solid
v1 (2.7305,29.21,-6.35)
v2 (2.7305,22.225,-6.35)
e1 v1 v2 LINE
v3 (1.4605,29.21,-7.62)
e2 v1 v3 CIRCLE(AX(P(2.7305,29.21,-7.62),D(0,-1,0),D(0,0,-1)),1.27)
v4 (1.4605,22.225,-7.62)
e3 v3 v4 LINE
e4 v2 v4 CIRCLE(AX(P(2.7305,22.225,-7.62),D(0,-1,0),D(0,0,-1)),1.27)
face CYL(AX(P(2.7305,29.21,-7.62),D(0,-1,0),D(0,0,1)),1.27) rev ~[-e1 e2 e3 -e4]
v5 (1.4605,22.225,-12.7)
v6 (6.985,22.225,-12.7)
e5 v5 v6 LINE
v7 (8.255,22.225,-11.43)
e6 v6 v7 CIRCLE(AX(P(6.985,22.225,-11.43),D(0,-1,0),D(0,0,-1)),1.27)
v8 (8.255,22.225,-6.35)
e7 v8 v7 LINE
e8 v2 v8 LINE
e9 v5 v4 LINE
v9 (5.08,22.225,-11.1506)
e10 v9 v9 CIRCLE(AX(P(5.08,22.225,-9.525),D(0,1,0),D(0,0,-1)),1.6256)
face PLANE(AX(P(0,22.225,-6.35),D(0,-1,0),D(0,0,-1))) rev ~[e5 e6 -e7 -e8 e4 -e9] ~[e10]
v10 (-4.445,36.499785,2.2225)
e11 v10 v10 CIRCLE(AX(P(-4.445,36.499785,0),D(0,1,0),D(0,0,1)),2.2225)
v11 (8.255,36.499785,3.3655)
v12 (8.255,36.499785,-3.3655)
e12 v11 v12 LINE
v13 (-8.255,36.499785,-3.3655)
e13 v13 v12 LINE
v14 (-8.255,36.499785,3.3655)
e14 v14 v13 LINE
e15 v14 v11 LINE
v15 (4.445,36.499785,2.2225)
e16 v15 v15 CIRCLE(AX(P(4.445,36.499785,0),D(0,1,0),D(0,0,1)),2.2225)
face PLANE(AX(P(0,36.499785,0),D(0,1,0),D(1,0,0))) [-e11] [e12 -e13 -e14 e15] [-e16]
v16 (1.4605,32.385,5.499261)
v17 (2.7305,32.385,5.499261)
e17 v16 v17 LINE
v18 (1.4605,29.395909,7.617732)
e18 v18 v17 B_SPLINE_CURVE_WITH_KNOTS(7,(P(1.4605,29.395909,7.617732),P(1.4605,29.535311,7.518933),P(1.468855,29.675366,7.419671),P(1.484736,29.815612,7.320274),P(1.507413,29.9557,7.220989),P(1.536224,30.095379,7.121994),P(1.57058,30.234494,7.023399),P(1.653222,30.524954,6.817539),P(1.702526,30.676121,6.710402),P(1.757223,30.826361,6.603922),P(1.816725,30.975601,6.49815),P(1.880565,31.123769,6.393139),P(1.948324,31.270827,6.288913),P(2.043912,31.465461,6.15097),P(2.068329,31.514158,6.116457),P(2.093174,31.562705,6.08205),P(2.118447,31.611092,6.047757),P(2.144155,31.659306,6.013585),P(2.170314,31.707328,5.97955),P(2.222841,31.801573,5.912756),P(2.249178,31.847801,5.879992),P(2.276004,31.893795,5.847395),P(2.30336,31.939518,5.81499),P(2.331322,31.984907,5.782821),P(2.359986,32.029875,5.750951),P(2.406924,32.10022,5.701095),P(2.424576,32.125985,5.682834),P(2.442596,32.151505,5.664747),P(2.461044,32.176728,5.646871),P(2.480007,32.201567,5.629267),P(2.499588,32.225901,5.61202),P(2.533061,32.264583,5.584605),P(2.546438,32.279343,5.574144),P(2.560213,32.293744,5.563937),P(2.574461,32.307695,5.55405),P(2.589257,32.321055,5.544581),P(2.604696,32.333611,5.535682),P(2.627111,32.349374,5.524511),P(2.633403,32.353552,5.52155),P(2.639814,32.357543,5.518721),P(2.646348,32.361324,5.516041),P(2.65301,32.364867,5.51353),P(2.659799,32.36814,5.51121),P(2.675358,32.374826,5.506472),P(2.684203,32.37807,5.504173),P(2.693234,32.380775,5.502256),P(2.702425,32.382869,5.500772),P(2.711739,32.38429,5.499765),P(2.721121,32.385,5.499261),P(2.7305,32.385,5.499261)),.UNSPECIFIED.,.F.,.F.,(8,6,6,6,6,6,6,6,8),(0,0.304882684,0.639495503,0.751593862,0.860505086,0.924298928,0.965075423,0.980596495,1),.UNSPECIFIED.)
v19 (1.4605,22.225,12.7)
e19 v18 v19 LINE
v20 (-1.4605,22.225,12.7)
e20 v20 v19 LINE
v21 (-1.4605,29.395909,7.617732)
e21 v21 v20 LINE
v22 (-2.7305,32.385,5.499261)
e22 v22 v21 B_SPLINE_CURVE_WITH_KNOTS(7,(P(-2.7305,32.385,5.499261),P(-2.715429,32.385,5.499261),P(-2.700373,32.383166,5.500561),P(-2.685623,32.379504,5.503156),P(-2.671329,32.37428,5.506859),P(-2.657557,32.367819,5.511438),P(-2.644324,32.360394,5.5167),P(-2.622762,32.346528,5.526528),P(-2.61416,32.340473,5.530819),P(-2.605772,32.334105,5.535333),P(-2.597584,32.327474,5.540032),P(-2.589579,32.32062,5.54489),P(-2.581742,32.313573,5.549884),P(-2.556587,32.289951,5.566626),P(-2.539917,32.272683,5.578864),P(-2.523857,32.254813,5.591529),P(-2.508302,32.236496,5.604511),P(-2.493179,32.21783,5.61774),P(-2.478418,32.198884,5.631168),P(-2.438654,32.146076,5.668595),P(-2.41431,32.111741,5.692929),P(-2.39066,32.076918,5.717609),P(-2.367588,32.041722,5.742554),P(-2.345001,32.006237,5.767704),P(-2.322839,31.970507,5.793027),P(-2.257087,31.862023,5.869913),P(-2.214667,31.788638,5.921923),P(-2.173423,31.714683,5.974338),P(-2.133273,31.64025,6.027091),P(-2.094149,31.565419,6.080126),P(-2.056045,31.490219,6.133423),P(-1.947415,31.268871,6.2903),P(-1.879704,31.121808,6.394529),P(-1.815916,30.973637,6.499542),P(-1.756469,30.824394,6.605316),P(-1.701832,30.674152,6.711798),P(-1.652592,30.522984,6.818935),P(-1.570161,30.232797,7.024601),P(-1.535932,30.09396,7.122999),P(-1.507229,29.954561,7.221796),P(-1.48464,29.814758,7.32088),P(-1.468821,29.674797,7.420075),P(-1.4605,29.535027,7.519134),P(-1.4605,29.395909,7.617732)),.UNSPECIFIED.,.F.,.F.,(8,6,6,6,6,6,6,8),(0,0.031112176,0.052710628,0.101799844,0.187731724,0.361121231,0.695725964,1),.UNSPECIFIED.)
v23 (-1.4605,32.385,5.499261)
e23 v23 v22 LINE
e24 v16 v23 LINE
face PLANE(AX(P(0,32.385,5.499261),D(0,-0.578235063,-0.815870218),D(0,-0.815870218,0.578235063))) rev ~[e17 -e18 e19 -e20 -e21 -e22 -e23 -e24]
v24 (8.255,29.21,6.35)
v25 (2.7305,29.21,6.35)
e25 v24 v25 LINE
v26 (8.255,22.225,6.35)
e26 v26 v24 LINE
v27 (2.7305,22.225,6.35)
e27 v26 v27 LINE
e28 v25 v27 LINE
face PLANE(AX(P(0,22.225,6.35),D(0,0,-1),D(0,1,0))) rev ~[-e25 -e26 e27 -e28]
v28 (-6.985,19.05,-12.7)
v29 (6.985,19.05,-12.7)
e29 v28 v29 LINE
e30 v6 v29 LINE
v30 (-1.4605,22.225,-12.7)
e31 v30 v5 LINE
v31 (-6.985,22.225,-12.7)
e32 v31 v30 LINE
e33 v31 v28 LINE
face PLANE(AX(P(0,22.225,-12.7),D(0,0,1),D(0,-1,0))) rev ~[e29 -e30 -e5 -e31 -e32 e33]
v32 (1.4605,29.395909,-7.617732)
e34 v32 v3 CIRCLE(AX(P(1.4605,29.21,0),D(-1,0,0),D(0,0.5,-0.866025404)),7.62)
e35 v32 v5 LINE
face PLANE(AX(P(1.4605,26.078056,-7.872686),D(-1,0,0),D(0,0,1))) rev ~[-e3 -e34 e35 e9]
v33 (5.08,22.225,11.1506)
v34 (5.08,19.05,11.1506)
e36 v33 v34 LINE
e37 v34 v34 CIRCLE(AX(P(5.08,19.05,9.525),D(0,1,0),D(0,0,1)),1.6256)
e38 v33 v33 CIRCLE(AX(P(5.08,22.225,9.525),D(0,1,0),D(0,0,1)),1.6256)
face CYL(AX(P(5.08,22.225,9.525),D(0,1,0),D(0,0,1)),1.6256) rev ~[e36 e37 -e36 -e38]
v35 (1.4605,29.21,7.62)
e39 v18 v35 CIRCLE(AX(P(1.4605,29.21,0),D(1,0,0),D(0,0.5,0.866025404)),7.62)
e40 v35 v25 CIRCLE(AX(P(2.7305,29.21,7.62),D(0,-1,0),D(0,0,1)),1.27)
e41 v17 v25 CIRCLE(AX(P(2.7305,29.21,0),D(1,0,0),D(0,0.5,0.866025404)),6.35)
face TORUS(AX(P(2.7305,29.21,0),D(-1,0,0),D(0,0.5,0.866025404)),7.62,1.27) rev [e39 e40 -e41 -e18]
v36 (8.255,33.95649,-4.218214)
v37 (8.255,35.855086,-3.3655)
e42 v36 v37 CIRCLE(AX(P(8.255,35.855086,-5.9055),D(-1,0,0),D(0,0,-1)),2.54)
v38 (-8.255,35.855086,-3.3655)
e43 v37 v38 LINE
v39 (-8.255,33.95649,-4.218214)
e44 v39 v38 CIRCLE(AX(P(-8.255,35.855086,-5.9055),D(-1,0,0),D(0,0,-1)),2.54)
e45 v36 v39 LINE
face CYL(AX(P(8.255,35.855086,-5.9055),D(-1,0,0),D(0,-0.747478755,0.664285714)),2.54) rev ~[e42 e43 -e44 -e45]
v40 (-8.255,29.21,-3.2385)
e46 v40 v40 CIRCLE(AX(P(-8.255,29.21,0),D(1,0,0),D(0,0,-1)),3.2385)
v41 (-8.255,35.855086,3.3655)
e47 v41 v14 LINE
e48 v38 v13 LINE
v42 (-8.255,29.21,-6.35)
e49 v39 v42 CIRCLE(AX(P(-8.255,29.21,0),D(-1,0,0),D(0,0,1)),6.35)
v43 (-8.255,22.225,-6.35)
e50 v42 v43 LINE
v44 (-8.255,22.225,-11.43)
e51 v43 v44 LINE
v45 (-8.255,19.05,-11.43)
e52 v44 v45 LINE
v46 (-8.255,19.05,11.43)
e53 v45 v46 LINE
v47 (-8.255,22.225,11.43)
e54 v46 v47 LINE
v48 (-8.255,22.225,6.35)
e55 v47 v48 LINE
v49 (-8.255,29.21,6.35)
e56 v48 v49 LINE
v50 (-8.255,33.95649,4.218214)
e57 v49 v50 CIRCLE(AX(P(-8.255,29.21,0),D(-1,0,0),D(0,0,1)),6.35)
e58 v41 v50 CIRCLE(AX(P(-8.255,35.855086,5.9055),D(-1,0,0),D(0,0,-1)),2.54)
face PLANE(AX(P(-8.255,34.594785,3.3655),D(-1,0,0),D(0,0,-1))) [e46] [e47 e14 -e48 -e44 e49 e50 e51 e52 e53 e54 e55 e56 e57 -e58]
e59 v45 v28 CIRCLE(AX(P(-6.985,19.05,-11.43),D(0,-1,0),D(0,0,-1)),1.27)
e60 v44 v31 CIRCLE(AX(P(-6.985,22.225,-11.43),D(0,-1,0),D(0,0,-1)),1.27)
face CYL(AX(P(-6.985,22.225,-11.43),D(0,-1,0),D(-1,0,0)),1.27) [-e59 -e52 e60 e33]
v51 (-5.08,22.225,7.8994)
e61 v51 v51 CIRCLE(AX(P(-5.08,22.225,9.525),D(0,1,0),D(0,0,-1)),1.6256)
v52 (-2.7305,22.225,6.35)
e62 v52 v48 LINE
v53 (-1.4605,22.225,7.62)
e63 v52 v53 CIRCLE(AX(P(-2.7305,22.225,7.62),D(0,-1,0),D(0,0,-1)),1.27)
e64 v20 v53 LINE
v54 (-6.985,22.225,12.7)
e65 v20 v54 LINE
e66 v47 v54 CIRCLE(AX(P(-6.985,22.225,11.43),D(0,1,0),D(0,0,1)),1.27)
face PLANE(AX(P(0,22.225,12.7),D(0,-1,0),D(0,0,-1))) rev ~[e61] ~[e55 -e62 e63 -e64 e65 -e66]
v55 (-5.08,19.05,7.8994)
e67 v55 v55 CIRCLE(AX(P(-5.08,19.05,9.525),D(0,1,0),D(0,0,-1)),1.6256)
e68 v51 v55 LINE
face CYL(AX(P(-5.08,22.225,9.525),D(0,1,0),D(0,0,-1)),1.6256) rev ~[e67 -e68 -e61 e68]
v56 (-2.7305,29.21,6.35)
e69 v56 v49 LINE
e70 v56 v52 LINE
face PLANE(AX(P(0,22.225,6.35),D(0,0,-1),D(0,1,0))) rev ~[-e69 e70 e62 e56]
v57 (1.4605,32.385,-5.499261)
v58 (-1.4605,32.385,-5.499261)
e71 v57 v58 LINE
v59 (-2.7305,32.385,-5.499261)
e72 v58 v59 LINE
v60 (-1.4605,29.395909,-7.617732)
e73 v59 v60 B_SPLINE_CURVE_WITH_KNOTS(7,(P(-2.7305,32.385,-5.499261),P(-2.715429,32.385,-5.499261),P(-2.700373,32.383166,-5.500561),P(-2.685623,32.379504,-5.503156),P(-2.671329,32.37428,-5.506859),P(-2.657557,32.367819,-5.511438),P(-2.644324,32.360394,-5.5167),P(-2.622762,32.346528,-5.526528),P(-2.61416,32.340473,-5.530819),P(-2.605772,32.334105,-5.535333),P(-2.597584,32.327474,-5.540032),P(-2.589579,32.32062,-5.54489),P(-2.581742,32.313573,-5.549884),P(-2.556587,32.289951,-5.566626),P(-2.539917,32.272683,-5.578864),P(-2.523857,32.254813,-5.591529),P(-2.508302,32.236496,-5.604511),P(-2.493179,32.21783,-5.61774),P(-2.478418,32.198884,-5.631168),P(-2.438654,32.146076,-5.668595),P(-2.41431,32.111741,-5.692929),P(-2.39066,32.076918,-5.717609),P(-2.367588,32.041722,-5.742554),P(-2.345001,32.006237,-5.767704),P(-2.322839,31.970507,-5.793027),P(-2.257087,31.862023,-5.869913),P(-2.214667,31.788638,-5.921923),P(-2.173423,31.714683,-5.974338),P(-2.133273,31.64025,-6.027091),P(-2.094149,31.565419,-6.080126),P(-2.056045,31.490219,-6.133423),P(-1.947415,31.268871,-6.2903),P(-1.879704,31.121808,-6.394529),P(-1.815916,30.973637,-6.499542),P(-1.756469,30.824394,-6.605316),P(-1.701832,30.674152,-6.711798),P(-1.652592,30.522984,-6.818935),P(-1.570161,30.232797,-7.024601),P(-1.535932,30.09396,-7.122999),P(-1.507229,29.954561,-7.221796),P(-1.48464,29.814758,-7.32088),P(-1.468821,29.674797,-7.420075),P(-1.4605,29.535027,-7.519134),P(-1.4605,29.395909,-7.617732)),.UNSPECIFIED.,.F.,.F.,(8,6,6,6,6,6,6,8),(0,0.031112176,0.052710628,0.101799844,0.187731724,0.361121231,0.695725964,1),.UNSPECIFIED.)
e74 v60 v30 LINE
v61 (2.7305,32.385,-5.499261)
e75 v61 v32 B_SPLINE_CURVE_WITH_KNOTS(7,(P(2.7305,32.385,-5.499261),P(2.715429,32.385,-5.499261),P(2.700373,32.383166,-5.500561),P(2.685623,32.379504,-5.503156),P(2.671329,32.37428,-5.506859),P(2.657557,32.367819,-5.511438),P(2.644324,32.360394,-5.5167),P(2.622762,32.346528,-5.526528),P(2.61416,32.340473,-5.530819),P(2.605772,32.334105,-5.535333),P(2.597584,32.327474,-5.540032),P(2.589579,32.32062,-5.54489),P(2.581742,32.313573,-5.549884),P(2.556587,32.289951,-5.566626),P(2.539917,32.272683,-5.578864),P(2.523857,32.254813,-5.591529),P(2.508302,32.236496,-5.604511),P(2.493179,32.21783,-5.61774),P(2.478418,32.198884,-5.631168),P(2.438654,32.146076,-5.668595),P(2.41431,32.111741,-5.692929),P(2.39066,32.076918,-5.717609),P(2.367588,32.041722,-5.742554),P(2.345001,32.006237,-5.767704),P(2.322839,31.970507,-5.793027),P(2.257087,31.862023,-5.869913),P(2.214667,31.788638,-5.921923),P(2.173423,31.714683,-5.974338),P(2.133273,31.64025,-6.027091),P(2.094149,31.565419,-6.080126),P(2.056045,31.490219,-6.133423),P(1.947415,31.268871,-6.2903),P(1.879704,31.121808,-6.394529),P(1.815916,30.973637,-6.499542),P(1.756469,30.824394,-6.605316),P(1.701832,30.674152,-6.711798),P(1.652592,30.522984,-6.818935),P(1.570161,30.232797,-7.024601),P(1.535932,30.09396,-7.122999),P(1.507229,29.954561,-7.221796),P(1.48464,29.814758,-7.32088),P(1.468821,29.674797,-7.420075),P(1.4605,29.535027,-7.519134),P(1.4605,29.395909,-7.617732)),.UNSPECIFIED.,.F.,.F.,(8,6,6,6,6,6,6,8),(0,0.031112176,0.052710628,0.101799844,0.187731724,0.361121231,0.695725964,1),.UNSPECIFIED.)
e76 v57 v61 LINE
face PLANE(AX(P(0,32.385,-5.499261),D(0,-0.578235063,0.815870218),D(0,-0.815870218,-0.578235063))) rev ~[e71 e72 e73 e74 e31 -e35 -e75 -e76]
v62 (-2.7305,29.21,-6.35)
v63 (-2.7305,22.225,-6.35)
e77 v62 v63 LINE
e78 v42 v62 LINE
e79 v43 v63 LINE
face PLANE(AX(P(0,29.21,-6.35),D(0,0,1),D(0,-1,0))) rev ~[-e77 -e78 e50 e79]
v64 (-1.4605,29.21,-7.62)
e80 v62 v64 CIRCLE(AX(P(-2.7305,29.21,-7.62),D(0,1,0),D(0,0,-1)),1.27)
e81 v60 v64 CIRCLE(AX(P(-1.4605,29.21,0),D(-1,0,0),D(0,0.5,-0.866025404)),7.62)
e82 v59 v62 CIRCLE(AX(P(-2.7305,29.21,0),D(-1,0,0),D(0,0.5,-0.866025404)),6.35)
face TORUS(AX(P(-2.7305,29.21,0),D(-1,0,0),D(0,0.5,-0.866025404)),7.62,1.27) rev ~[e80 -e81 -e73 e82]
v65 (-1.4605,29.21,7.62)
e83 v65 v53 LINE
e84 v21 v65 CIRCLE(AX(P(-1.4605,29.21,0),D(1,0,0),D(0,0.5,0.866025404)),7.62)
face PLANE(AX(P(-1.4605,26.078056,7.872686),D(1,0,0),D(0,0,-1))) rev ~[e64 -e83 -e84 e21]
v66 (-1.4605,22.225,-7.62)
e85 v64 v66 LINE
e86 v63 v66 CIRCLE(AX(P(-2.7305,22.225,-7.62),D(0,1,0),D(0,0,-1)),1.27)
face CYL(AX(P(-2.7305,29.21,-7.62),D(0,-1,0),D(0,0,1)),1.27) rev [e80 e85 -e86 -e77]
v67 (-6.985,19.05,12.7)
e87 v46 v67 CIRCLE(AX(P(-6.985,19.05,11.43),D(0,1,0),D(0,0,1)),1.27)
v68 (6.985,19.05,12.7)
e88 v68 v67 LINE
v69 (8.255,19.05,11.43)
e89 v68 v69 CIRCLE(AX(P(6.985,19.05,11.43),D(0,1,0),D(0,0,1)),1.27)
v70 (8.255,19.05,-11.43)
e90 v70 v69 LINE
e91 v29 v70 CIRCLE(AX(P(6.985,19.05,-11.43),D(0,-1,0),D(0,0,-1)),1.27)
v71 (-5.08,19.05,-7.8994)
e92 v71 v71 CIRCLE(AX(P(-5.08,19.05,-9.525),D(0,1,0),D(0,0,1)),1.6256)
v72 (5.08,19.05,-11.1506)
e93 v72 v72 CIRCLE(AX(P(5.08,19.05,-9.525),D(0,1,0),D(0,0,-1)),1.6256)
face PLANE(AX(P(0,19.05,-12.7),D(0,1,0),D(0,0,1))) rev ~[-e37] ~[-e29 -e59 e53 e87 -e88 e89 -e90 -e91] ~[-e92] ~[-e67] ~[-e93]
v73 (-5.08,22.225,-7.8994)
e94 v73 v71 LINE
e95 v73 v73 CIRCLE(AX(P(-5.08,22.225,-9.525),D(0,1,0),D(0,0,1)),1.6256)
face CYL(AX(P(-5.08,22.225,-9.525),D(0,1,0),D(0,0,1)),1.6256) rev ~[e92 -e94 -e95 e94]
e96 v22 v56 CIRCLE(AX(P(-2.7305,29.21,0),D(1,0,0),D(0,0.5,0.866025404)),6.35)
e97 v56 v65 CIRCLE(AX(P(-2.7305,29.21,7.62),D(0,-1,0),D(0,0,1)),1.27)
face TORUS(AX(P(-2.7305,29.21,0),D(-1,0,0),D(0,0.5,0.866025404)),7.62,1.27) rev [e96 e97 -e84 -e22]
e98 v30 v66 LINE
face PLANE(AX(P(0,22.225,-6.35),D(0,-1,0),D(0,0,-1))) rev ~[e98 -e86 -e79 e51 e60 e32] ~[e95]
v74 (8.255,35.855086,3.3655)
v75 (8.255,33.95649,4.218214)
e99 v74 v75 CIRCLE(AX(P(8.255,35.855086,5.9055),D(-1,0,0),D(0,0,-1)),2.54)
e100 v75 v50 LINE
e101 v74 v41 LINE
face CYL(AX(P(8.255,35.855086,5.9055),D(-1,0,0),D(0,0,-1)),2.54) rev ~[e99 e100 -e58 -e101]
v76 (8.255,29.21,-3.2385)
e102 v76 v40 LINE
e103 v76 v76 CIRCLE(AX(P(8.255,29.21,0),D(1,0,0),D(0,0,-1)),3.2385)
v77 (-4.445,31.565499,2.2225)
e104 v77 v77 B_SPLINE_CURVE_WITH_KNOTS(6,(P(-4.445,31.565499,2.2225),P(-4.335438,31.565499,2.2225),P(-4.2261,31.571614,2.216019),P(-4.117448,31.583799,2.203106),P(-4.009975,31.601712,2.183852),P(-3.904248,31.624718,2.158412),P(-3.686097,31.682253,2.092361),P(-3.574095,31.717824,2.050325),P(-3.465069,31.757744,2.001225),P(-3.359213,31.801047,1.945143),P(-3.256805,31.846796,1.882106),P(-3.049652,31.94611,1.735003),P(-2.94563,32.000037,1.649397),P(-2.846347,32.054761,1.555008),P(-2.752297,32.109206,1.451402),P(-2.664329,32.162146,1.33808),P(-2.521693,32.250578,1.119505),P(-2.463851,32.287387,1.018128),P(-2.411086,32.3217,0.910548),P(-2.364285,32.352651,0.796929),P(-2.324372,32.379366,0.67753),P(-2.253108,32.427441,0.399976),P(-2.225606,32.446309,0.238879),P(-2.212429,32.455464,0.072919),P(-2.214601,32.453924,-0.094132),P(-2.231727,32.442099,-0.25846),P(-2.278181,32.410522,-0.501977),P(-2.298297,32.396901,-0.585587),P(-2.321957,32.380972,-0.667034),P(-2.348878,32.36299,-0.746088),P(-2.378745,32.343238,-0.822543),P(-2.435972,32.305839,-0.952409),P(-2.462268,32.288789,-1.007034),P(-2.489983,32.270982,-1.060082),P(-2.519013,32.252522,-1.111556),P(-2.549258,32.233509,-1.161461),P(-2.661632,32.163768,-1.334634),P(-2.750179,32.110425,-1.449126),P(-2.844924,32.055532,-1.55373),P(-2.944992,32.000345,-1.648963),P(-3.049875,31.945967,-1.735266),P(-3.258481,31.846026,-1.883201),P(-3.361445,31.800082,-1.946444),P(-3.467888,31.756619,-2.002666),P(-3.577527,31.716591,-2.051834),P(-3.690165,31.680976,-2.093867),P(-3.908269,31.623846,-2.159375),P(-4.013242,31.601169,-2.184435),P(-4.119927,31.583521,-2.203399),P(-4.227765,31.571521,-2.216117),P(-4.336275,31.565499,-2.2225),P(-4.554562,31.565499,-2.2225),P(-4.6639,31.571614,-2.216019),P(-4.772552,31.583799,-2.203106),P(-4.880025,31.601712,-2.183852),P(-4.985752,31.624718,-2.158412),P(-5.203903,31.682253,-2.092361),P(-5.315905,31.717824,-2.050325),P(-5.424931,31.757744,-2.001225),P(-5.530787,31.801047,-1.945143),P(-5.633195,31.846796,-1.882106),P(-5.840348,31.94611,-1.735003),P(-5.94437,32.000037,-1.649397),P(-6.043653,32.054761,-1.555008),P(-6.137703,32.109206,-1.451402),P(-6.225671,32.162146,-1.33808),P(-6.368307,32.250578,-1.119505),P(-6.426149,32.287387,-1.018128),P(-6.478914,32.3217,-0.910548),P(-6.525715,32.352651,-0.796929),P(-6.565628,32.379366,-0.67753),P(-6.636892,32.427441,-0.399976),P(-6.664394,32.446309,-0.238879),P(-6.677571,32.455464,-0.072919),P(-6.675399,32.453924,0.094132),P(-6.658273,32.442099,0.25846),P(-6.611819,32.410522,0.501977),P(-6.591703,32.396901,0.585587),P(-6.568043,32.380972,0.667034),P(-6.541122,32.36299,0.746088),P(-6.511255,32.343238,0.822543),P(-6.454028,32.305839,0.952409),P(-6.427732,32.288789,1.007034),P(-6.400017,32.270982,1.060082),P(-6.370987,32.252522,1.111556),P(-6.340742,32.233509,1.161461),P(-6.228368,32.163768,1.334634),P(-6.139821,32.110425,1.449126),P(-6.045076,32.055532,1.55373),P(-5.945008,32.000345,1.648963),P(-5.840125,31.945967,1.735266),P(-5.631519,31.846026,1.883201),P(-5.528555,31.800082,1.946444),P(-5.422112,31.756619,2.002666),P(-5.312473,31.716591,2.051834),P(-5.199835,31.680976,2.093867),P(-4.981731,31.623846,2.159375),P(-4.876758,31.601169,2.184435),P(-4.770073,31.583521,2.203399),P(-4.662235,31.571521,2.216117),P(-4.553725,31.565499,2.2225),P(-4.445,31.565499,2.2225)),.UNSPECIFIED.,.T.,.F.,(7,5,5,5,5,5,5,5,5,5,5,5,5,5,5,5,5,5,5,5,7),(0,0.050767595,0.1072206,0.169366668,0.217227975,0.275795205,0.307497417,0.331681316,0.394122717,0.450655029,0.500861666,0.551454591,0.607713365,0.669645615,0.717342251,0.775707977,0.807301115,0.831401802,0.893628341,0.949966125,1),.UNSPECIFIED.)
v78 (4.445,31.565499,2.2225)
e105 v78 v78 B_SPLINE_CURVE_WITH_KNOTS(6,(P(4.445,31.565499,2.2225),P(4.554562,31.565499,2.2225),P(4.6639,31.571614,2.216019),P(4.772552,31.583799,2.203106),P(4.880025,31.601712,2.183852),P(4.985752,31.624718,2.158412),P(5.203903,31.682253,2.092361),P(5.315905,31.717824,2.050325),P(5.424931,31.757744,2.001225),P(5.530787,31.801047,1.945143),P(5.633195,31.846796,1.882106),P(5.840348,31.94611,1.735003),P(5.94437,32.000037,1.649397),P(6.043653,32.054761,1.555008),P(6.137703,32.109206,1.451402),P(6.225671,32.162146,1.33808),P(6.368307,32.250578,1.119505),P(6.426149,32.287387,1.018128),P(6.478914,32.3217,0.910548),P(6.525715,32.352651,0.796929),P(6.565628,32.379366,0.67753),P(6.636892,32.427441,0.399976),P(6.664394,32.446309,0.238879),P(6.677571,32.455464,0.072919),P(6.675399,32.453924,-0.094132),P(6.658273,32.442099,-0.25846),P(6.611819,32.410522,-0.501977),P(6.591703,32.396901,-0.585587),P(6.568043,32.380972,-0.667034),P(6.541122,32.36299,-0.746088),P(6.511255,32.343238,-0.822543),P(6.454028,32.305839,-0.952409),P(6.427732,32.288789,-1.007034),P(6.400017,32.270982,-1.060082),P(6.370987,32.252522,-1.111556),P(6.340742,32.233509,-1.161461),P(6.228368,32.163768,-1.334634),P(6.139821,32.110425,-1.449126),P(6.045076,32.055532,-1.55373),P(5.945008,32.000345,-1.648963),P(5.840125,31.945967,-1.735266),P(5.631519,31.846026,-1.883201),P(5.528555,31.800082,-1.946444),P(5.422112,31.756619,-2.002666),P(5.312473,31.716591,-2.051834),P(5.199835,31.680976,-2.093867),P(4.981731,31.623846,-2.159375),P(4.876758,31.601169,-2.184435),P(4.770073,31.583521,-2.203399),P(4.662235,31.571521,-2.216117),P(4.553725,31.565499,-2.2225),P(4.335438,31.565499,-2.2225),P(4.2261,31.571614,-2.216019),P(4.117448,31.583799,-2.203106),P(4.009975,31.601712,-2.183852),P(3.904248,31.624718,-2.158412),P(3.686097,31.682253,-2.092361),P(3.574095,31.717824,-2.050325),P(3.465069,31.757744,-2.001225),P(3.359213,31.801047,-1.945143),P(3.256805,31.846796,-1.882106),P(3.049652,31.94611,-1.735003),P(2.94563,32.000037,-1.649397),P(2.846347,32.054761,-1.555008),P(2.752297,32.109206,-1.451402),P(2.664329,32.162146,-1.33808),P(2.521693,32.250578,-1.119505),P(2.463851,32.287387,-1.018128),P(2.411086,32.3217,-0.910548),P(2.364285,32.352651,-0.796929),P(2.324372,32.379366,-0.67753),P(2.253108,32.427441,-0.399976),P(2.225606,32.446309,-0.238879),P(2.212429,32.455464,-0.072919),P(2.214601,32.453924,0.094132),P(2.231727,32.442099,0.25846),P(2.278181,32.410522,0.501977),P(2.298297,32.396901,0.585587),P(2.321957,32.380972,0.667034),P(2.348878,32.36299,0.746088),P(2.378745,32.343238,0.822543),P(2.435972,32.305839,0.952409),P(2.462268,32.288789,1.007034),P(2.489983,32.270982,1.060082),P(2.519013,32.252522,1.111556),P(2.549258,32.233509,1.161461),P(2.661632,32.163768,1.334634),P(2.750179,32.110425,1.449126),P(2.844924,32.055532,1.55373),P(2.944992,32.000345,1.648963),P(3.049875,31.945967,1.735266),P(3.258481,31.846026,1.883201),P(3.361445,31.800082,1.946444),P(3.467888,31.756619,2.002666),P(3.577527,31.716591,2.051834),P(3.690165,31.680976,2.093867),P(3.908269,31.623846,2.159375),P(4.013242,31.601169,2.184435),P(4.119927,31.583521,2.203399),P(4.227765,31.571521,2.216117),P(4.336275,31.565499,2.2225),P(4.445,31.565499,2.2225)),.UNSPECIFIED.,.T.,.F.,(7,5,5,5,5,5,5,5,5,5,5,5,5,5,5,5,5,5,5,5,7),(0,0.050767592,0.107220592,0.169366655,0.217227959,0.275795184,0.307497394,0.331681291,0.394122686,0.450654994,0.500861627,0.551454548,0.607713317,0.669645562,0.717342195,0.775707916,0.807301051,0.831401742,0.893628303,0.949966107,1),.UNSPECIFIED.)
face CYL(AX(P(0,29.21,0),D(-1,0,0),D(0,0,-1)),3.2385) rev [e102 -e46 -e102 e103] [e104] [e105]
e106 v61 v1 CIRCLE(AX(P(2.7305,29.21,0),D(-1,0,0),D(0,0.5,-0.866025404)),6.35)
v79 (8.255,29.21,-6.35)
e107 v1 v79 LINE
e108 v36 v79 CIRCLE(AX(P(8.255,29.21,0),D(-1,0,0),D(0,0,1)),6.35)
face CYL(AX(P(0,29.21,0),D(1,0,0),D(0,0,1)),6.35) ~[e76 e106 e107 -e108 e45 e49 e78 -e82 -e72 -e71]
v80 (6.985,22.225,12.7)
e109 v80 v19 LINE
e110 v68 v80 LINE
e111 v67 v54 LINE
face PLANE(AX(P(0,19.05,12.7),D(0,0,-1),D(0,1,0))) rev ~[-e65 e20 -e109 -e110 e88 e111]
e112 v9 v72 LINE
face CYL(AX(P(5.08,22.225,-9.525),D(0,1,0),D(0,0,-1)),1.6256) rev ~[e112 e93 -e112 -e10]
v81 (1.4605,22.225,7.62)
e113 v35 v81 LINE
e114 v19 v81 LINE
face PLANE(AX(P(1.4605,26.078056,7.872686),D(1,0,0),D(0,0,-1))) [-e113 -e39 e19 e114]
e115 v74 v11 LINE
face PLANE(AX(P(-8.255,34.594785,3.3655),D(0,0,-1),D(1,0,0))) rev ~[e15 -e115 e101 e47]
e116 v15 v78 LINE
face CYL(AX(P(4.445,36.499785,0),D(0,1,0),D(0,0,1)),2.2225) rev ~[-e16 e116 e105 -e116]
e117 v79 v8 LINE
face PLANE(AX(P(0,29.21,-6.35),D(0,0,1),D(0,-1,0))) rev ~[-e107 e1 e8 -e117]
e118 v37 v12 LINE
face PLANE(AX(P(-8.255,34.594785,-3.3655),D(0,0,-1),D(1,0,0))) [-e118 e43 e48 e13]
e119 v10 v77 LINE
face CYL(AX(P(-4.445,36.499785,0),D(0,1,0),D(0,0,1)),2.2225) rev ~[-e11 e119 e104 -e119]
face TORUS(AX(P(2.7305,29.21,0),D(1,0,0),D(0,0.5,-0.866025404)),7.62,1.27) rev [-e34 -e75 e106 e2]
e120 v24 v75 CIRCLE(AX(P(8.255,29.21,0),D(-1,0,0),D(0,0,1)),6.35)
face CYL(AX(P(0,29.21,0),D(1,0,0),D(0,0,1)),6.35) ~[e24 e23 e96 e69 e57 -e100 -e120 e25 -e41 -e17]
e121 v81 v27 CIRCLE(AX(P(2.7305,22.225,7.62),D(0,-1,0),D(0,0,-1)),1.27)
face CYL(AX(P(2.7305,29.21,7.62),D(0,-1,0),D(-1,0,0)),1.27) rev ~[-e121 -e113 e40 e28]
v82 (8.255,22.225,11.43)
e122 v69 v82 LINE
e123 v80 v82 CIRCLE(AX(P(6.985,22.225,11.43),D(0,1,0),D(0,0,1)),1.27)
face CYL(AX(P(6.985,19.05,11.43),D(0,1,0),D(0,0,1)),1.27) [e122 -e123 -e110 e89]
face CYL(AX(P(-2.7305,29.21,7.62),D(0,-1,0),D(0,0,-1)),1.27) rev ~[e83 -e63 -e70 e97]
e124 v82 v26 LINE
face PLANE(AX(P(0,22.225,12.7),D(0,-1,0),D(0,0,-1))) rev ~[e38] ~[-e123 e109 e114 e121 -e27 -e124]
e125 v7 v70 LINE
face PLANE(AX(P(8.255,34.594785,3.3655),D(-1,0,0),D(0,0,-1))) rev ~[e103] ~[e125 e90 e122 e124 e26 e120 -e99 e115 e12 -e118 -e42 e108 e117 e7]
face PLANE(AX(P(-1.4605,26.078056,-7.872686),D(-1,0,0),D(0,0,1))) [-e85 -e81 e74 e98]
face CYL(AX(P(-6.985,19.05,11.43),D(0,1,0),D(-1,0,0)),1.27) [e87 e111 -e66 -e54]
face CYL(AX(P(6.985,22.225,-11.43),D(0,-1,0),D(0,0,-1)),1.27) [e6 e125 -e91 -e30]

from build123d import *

# Parameters (mm, degrees)
SKETCH1_R           = 3.2385
BOSS_EXTRUDE1_DEPTH = 8.255
BOSS_EXTRUDE2_DEPTH = 1.4605
SKETCH3_R           = 1.6256
CUT_EXTRUDE1_DEPTH  = 21.180615699
CUT_EXTRUDE2_DEPTH  = 42.211451079
SKETCH6_W           = 16.51
SKETCH6_H           = 6.731
BOSS_EXTRUDE3_DEPTH = 1.905
SKETCH5_R           = 2.2225
CUT_EXTRUDE3_DEPTH  = 6.35
FILLET1_R           = 1.27
FILLET2_R           = 2.54


with BuildPart() as part:
    # Sketch1 → Boss-Extrude1 (new, symmetric)
    with BuildSketch(Plane(origin=(0, 0, 0), x_dir=(0, 0, -1), z_dir=(1, 0, 0))):
        with BuildLine():
            Line((12.7, 19.05), (-12.7, 19.05))
            Line((-12.7, 19.05), (-12.7, 22.225))
            Line((-12.7, 22.225), (-6.35, 22.225))
            Line((-6.35, 22.225), (-6.35, 29.21))
            ThreePointArc((-6.35, 29.21), (0, 35.56), (6.35, 29.21))
            Line((6.35, 29.21), (6.35, 22.225))
            Line((6.35, 22.225), (12.7, 22.225))
            Line((12.7, 22.225), (12.7, 19.05))
        make_face()
        with Locations((0, 29.21)):
            Circle(SKETCH1_R, mode=Mode.SUBTRACT)
    extrude(amount=BOSS_EXTRUDE1_DEPTH, both=True)

    # Sketch2 → Boss-Extrude2 (add, symmetric)
    with BuildSketch(Plane(origin=(0, 0, 0), x_dir=(0, 0, -1), z_dir=(1, 0, 0))):
        Polygon((-5.499261314, 32.385), (-12.7, 22.225), (-5.499261314, 22.225), align=None)
        Polygon((5.499261314, 22.225), (5.499261314, 32.385), (12.7, 22.225), align=None)
    extrude(amount=BOSS_EXTRUDE2_DEPTH, both=True)

    # Sketch3 → Cut-Extrude1 (cut, through all)
    with BuildSketch(Plane(origin=(0, 22.225, 0), x_dir=(1, 0, 0), z_dir=(0, 1, 0))):
        with Locations(Location((-5.08, 9.525, 0), (0, 0, 270))):
            Circle(SKETCH3_R)
        with Locations(Location((5.08, 9.525, 0), (0, 0, 90))):
            Circle(SKETCH3_R)
        with Locations(Location((5.08, -9.525, 0), (0, 0, 270))):
            Circle(SKETCH3_R)
        with Locations(Location((-5.08, -9.525, 0), (0, 0, 90))):
            Circle(SKETCH3_R)
    extrude(amount=-CUT_EXTRUDE1_DEPTH, mode=Mode.SUBTRACT)

    # Sketch4 → Cut-Extrude2 (cut, through all)
    with BuildSketch(Plane(origin=(8.255, 0, 0), x_dir=(0, 0, -1), z_dir=(1, 0, 0))):
        with BuildLine():
            Line((3.3655, 34.594785024), (-3.3655, 34.594785024))
            ThreePointArc((-3.3655, 34.594785024), (0, 35.56), (3.3655, 34.594785024))
        make_face()
    extrude(amount=-CUT_EXTRUDE2_DEPTH, mode=Mode.SUBTRACT)

    # Sketch6 → Boss-Extrude3 (add)
    with BuildSketch(Plane(origin=(0, 34.594785024, 0), x_dir=(1, 0, 0), z_dir=(0, 1, 0))):
        Rectangle(SKETCH6_W, SKETCH6_H)
    extrude(amount=BOSS_EXTRUDE3_DEPTH)

    # Sketch5 → Cut-Extrude3 (cut)
    with BuildSketch(Plane(origin=(0, 36.499785024, 0), x_dir=(1, 0, 0), z_dir=(0, 1, 0))):
        with Locations(Location((-4.445, 0, 0), (0, 0, 270))):
            Circle(SKETCH5_R)
        with Locations(Location((4.445, 0, 0), (0, 0, 270))):
            Circle(SKETCH5_R)
    extrude(amount=-CUT_EXTRUDE3_DEPTH, mode=Mode.SUBTRACT)

    # Fillet1
    fillet1_edges = [part.edges().sort_by_distance(p)[0] for p in [
        (-8.255, 20.6375, -12.7),
        (-8.255, 20.6375, 12.7),
        (8.255, 20.6375, -12.7),
        (1.4605, 25.7175, 6.35),
        (1.4605, 30.853500936, 6.133628997),
        (-1.4605, 25.7175, 6.35),
        (-1.4605, 30.853500936, 6.133628997),
        (-1.4605, 25.7175, -6.35),
        (1.4605, 25.7175, -6.35),
        (8.255, 20.6375, 12.7),
        (1.4605, 30.853500936, -6.133628997),
        (-1.4605, 30.853500936, -6.133628997),
    ]]
    fillet(fillet1_edges, radius=FILLET1_R)

    # Fillet2
    fillet2_edges = [part.edges().sort_by_distance(p)[0] for p in [
        (0, 34.594785024, 3.3655),
        (0, 34.594785024, -3.3655),
    ]]
    fillet(fillet2_edges, radius=FILLET2_R)


solid = part.part
